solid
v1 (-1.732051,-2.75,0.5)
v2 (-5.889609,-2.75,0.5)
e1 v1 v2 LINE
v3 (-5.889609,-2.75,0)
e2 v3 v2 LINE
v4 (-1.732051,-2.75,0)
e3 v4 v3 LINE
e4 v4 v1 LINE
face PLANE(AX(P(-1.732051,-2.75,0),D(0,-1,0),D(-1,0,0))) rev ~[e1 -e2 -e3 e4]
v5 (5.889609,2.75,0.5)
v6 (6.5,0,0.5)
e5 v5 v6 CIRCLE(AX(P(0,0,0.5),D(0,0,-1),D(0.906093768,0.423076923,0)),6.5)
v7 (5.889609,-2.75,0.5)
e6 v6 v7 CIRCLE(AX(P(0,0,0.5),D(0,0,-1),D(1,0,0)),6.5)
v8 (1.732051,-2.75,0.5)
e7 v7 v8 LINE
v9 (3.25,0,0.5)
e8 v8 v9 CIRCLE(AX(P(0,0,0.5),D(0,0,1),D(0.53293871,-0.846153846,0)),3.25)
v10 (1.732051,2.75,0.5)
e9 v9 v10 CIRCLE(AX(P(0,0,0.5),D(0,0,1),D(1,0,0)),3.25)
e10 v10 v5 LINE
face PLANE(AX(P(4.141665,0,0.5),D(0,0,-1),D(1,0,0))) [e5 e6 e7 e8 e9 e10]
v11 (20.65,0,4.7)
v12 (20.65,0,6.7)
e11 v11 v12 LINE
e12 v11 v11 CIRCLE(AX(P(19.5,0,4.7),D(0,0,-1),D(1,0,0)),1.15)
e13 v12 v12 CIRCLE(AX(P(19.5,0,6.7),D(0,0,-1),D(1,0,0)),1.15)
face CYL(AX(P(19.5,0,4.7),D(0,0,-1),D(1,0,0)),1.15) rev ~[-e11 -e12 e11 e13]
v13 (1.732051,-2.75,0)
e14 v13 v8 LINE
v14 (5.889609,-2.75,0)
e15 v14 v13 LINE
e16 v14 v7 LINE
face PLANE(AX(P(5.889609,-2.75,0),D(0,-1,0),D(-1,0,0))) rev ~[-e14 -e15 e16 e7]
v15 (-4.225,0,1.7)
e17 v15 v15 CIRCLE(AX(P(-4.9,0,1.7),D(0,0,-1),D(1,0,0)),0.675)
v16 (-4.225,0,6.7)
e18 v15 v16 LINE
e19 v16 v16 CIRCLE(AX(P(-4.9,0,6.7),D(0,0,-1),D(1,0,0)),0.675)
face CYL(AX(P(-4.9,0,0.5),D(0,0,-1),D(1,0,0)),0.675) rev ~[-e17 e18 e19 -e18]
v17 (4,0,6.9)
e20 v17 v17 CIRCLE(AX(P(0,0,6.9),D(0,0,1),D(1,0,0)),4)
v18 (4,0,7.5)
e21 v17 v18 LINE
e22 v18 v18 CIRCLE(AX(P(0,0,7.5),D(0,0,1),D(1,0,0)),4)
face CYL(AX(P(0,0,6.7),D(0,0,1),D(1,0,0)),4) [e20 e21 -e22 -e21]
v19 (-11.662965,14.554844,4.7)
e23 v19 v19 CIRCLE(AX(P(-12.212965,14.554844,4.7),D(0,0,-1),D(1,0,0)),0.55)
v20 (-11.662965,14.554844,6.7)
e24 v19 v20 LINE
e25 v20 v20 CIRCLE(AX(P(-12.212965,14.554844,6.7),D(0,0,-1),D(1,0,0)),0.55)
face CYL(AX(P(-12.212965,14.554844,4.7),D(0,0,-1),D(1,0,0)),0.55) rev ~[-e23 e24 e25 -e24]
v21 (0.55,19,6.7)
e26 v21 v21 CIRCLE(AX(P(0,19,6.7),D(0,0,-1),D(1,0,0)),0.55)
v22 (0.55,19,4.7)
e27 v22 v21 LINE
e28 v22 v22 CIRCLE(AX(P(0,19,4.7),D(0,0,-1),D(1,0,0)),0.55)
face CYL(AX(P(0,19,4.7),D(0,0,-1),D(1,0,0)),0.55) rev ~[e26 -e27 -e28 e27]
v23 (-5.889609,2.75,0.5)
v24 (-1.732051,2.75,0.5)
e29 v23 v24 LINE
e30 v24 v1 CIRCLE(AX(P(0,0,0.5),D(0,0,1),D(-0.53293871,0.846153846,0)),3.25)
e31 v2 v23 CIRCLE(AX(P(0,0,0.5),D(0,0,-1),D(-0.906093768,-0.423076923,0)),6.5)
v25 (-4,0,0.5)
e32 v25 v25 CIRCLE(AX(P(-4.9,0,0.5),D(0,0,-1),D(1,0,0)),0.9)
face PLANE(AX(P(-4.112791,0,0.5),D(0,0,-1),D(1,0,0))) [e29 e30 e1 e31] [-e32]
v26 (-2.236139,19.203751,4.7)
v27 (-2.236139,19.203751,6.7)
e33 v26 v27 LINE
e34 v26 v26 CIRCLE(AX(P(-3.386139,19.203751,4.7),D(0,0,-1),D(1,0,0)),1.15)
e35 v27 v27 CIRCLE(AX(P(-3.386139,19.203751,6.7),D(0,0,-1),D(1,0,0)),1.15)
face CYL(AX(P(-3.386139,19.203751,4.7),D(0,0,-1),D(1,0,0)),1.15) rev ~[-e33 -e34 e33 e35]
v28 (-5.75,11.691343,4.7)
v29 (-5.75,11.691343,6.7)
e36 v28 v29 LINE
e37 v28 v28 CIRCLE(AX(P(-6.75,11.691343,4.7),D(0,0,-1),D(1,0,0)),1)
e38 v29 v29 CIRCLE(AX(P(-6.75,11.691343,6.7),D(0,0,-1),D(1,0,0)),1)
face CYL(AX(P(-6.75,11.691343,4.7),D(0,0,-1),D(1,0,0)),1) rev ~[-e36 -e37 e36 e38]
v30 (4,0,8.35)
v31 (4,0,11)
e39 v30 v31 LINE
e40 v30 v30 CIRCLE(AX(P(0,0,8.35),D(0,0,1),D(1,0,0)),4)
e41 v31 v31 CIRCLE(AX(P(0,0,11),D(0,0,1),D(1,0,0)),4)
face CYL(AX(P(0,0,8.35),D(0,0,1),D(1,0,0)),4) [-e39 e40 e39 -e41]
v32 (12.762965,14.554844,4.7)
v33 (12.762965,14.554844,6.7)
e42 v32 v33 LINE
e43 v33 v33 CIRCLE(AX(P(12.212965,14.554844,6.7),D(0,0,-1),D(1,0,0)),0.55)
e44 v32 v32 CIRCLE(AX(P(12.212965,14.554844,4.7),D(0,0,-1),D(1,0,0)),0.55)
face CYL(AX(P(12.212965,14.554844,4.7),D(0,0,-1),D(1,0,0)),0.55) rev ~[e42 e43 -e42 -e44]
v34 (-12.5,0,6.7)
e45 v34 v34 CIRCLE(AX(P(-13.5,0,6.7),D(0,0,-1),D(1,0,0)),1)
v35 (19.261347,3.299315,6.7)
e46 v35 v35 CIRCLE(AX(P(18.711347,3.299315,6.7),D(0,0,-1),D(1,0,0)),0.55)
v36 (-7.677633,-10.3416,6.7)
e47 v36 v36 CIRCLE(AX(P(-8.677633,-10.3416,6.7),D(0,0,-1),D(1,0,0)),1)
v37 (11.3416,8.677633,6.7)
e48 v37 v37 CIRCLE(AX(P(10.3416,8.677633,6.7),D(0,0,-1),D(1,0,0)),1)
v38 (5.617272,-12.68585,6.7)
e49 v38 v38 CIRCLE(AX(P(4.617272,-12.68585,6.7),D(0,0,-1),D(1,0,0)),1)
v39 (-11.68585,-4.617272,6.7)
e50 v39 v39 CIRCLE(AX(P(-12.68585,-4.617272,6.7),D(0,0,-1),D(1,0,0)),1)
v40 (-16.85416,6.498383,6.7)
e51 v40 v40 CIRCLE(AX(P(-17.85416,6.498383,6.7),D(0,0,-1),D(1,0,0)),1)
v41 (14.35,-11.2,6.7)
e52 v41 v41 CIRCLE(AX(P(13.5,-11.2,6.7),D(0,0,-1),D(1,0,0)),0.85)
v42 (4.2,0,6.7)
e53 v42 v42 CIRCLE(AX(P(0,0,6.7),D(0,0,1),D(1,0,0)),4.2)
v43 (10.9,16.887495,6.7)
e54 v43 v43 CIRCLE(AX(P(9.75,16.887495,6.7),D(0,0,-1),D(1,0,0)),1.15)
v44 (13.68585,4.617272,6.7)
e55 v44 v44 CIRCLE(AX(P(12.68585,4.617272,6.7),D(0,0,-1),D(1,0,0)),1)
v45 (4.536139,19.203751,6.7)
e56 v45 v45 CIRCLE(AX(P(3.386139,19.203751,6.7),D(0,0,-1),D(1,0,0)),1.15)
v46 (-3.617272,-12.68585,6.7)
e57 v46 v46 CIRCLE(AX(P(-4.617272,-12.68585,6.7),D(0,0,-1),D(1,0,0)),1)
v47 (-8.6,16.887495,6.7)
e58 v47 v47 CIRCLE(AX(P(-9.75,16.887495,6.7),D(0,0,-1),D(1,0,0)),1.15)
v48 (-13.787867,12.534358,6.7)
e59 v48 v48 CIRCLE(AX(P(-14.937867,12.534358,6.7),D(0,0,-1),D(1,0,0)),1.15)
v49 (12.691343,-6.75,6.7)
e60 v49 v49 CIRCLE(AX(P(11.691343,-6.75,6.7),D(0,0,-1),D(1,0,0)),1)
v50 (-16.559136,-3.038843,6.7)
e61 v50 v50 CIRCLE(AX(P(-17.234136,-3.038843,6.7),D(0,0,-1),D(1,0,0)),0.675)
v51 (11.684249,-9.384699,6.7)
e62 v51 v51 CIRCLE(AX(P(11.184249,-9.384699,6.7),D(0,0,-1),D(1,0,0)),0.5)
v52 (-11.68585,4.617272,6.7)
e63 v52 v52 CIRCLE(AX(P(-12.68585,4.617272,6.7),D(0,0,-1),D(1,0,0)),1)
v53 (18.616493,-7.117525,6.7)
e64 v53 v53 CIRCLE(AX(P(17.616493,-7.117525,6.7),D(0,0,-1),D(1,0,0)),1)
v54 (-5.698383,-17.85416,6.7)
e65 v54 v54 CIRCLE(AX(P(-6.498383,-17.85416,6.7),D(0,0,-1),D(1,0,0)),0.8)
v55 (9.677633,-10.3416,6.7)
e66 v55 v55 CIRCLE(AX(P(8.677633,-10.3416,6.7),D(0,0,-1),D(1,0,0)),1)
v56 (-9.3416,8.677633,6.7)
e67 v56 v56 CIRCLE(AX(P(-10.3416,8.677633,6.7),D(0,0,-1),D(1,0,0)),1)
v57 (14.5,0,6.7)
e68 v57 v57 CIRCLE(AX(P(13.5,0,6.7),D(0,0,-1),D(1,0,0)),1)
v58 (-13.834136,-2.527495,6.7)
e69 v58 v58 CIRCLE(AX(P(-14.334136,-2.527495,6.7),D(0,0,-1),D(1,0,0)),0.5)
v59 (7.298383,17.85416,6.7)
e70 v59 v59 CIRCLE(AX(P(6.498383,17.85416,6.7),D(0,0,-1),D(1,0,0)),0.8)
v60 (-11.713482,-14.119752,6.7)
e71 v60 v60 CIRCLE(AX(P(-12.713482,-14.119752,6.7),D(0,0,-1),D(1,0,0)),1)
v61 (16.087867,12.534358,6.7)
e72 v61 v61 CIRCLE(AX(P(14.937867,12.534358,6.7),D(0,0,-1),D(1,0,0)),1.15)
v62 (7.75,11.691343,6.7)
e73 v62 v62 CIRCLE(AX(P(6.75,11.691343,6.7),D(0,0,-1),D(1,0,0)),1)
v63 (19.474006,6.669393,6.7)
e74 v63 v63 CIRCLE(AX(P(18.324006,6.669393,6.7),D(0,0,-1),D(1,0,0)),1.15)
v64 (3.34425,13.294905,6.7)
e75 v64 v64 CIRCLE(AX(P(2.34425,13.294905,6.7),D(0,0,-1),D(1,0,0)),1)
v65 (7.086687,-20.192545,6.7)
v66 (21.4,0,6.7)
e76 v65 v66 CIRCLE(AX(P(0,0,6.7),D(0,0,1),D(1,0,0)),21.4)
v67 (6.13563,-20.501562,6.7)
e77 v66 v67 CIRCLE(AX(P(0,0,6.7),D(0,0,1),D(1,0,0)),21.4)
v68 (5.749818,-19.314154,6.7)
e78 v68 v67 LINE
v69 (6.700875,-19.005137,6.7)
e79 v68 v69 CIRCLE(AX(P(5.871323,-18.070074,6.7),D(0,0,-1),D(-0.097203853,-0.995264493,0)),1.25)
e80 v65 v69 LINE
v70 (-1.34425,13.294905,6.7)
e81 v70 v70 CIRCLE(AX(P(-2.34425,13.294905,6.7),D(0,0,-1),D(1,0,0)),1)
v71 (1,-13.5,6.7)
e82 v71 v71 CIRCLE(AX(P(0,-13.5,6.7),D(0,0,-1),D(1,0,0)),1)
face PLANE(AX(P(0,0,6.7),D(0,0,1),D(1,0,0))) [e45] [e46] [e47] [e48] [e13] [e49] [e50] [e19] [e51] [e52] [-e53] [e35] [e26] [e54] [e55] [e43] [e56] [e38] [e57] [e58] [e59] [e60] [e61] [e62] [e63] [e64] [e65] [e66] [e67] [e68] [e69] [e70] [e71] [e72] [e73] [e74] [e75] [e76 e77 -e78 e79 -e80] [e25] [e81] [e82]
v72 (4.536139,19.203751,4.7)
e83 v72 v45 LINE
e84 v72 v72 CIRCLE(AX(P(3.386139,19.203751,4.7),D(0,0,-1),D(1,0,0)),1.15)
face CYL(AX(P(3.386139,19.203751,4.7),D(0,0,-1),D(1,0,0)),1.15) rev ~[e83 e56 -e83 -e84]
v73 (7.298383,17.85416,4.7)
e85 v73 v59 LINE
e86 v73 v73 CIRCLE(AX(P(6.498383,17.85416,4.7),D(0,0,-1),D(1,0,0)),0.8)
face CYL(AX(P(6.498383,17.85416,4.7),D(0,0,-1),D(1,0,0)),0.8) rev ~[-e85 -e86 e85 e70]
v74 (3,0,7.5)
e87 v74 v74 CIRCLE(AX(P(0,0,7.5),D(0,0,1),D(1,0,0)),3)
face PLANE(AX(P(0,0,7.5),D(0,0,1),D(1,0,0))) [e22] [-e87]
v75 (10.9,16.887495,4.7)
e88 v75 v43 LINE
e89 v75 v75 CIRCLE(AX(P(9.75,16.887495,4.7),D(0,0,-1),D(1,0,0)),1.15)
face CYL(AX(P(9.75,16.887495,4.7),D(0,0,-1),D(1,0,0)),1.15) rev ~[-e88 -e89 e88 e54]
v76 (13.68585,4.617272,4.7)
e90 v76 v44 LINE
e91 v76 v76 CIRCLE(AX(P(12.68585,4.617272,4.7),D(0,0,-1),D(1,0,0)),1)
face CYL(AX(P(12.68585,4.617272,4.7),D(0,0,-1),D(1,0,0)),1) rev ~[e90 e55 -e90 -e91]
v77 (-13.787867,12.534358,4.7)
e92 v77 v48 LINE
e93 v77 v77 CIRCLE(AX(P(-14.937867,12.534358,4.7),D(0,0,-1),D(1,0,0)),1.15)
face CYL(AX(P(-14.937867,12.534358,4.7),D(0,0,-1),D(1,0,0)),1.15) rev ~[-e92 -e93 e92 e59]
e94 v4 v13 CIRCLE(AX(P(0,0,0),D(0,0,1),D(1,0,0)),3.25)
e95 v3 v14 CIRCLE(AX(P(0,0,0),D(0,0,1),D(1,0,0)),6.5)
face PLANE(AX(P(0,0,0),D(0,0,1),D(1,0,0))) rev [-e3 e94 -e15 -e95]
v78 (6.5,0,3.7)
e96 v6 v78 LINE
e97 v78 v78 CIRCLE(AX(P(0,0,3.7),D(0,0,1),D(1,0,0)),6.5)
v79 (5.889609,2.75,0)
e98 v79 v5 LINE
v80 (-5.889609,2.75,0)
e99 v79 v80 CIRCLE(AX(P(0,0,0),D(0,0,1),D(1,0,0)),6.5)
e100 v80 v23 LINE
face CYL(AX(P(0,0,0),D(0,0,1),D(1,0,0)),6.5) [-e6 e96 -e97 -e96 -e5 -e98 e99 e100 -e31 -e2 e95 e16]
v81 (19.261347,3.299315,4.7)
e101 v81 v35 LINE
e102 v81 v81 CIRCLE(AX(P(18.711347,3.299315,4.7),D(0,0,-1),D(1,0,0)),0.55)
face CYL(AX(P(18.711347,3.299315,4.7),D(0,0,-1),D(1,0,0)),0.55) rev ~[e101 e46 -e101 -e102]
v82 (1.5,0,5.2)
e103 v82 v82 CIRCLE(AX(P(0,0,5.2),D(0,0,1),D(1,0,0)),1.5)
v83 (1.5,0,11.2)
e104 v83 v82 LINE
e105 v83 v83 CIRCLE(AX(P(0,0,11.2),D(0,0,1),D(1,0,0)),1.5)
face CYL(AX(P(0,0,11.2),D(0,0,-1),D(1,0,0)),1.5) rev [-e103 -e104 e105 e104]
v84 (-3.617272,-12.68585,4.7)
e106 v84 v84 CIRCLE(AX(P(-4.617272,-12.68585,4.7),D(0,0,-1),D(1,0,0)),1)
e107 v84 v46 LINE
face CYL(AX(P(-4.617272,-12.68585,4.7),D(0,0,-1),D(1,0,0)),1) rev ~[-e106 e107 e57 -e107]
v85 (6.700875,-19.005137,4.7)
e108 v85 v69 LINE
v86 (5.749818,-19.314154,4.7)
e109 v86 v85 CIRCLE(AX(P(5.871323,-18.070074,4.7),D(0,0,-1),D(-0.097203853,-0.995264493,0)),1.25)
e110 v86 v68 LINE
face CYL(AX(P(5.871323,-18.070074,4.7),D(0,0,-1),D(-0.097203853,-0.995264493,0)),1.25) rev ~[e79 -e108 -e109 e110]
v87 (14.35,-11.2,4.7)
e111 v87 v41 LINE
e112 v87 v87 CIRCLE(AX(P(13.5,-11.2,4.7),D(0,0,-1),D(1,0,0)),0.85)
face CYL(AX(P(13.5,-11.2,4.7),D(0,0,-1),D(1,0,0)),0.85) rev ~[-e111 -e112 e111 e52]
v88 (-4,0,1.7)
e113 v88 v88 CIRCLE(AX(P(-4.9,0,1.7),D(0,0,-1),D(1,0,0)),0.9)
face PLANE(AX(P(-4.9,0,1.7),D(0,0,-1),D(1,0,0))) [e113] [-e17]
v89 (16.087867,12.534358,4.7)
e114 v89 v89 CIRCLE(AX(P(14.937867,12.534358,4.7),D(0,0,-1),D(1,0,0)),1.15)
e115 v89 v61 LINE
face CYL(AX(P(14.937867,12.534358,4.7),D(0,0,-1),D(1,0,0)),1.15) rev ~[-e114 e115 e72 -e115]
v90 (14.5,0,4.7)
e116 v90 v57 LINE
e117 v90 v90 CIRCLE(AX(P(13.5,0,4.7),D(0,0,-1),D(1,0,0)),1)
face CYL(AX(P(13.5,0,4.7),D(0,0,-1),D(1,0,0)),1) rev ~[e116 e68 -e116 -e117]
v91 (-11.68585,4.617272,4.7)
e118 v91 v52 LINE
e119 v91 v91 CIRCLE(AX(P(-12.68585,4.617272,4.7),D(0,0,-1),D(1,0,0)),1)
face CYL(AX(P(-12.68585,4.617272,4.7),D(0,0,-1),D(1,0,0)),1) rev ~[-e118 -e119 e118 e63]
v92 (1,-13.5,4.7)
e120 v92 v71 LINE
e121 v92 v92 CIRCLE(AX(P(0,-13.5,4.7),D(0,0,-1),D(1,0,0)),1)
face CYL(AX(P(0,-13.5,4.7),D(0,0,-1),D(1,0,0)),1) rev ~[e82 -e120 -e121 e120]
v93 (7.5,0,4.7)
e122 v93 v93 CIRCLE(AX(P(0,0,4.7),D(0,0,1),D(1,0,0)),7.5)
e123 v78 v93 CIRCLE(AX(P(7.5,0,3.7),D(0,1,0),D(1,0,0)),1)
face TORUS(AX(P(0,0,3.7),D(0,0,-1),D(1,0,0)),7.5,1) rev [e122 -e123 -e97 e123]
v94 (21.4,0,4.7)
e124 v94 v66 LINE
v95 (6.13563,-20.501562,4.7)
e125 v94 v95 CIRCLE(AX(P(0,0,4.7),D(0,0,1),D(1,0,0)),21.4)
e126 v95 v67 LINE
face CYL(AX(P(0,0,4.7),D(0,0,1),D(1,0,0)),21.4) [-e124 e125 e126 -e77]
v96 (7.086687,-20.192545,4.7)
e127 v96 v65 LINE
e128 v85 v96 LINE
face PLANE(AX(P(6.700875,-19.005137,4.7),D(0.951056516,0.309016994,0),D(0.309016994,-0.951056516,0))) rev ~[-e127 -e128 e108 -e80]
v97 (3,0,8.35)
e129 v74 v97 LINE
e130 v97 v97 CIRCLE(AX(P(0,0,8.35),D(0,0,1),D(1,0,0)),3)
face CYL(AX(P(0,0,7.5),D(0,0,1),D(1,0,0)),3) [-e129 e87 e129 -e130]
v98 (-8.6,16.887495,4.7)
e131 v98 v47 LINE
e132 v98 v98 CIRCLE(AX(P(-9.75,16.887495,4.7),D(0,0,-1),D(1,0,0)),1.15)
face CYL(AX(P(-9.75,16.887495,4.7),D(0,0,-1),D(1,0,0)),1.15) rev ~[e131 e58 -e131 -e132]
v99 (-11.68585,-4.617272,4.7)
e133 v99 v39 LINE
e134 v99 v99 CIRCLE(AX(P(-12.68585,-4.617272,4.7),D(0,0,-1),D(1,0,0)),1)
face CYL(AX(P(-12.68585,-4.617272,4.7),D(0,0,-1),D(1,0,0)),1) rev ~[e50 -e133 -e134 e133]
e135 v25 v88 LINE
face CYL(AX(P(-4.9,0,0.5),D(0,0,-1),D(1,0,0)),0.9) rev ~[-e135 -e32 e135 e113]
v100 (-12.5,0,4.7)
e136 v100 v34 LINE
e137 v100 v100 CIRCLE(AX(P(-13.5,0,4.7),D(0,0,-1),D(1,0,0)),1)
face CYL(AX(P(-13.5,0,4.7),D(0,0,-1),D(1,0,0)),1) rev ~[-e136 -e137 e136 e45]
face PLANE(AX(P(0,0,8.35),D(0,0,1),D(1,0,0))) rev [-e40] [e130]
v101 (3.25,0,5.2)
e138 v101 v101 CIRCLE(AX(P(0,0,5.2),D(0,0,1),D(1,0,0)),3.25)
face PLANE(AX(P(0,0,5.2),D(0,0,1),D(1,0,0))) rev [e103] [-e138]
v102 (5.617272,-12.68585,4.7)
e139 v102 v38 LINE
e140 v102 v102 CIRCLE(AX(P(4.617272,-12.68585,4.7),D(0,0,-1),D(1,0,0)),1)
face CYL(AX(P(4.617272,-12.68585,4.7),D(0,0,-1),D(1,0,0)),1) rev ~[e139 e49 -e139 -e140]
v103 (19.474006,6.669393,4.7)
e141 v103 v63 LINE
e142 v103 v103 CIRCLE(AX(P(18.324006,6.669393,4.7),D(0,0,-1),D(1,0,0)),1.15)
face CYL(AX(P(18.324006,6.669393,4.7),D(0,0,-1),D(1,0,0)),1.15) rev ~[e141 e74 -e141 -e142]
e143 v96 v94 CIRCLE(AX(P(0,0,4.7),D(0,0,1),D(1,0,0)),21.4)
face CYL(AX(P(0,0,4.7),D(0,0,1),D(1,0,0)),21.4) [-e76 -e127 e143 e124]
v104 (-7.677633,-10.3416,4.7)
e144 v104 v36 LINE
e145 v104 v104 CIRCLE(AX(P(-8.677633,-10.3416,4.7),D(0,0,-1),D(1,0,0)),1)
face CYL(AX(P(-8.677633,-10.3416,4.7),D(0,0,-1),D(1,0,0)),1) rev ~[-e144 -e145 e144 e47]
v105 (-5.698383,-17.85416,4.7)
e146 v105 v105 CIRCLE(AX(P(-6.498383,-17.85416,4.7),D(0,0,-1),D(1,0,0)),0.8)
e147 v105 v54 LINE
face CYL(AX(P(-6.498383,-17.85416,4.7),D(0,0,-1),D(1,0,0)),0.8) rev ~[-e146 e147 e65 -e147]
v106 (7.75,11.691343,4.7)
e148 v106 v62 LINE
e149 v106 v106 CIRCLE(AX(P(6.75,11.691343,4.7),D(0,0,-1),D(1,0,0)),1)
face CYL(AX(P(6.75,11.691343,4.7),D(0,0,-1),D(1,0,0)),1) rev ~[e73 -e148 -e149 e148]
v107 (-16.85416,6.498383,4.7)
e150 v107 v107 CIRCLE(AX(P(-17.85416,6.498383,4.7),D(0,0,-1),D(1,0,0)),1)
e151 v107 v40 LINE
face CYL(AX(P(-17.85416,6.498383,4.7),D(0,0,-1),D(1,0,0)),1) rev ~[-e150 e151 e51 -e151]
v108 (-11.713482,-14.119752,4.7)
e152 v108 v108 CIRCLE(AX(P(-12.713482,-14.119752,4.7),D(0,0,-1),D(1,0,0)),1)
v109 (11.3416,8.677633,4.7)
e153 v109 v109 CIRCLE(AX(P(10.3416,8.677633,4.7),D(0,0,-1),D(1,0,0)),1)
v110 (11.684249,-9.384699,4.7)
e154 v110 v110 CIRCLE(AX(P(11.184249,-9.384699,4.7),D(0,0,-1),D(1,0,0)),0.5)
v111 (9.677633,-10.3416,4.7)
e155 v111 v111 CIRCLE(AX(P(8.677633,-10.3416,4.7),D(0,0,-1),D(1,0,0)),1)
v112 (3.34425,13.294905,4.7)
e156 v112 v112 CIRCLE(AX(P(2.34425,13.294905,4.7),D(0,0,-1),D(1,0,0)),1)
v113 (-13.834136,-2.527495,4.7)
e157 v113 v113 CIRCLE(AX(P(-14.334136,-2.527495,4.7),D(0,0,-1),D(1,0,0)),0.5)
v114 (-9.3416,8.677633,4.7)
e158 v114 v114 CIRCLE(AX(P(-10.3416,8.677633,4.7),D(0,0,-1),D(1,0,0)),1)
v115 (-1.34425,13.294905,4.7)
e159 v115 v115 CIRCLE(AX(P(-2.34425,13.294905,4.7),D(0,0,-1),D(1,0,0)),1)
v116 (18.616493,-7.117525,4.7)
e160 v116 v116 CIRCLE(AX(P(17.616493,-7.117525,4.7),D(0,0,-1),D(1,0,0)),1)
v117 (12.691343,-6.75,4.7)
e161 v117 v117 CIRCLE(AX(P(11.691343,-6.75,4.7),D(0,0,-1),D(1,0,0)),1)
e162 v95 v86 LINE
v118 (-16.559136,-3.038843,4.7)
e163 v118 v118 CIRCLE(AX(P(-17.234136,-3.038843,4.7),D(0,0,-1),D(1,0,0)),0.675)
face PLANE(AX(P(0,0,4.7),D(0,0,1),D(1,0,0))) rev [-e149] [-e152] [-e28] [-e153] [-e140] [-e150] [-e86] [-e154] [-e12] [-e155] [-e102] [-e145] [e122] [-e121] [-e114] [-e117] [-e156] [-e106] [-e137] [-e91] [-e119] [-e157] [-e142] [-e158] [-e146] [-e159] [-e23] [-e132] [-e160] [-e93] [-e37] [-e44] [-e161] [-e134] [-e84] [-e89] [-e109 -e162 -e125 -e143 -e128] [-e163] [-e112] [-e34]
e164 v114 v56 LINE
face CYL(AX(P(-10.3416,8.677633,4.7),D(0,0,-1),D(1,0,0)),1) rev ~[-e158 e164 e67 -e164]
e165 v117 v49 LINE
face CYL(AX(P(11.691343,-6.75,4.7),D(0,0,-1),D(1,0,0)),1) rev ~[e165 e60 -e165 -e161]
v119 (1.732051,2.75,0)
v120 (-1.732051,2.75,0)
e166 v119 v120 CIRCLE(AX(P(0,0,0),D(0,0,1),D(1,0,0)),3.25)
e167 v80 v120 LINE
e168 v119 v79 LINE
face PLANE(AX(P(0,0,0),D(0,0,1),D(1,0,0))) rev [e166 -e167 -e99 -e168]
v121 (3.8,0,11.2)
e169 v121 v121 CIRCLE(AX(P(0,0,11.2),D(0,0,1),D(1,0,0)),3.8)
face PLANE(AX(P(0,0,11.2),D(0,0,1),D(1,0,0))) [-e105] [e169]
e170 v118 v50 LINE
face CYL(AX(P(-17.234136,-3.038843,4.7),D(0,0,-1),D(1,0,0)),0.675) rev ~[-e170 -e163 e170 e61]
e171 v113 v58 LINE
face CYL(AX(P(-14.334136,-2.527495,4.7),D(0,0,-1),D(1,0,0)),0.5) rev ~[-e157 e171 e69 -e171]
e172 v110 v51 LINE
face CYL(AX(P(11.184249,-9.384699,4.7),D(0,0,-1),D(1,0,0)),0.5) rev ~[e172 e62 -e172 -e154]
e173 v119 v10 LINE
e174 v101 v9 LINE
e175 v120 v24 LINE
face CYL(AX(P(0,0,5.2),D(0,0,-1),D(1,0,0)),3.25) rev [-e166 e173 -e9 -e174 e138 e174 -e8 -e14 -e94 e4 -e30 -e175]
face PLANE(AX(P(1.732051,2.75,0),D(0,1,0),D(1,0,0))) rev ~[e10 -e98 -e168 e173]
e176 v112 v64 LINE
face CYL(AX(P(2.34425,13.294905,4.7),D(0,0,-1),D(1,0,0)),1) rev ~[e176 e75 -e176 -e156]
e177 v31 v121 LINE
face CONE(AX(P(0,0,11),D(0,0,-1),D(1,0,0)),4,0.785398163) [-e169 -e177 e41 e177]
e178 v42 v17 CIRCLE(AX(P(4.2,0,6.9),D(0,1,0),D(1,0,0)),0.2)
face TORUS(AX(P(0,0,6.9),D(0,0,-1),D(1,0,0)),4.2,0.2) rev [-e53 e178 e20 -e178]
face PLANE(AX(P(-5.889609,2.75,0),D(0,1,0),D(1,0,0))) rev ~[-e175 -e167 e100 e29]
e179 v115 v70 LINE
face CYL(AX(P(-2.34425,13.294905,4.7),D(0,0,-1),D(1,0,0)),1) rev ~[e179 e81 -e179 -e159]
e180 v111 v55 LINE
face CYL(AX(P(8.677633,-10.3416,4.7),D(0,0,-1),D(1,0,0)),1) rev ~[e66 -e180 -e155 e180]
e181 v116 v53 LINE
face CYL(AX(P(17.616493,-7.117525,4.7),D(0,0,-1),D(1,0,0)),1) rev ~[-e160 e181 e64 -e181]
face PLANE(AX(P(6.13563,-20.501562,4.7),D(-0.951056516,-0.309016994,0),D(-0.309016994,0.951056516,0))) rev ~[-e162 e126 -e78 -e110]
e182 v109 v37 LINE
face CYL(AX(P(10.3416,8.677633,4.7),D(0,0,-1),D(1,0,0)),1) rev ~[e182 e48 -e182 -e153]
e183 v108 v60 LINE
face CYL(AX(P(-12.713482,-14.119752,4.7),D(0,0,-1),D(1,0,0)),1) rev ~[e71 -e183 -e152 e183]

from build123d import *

# Parameters (mm, degrees)
F2_R      = 1.15
F2_R_2    = 1
F2_R_3    = 0.55
F2_R_4    = 0.8
F2_R_5    = 0.85
F2_R_6    = 0.5
F2_R_7    = 0.675
F3_DEPTH  = 6.501
F4_R      = 1
F5_R      = 0.2
F6_SIZE   = 0.2
F8_DEPTH  = 0.5
F9_R      = 0.675
F10_DEPTH = 10.701
F11_R     = 0.9
F11_R_2   = 0.675
F12_DEPTH = 1.2


with BuildPart() as f1:
    # F0 (on Front) → F1 (revolve)
    with BuildSketch(Plane.XZ):
        Polygon((3.25, 5.2), (3.25, 0), (6.5, 0), (6.5, 4.7), (21.4, 4.7), (21.4, 6.7), (4, 6.7), (4, 7.5), (3, 7.5), (3, 8.35), (4, 8.35), (4, 11.2), (1.5, 11.2), (1.5, 5.2), align=None)
    revolve(axis=Axis((0, 0, 5.6), (0, 0, 1)))

    # F2 (on face) → F3 (cut, through all)
    with BuildSketch(Plane(origin=(0, 0, 4.7), x_dir=(1, 0, 0), z_dir=(0, 0, -1))):
        with Locations((19.5, 0)):
            Circle(F2_R)
        with Locations((18.3240061053, -6.6693927949)):
            Circle(F2_R)
        with Locations((14.9378666408, -12.5343583889)):
            Circle(F2_R)
        with Locations((9.75, -16.8874953738)):
            Circle(F2_R)
        with Locations((3.3861394645, -19.2037511837)):
            Circle(F2_R)
        with Locations((-3.3861394645, -19.2037511837)):
            Circle(F2_R)
        with Locations((-9.75, -16.8874953738)):
            Circle(F2_R)
        with Locations((-14.9378666408, -12.5343583889)):
            Circle(F2_R)
        with Locations((-17.8541597949, -6.4983827232)):
            Circle(F2_R_2)
        with Locations((11.6913429511, 6.75)):
            Circle(F2_R_2)
        with Locations((8.6776327308, 10.3415999821)):
            Circle(F2_R_2)
        with Locations((12.6858503806, -4.6172719349)):
            Circle(F2_R_2)
        with Locations((13.5, 0)):
            Circle(F2_R_2)
        with Locations((10.3415999821, -8.6776327308)):
            Circle(F2_R_2)
        with Locations((6.75, -11.6913429511)):
            Circle(F2_R_2)
        with Locations((2.3442503985, -13.2949046657)):
            Circle(F2_R_2)
        with Locations((-2.3442503985, -13.2949046657)):
            Circle(F2_R_2)
        with Locations((-6.75, -11.6913429511)):
            Circle(F2_R_2)
        with Locations((-10.3415999821, -8.6776327308)):
            Circle(F2_R_2)
        with Locations((-12.6858503806, -4.6172719349)):
            Circle(F2_R_2)
        with Locations((-13.5, 0)):
            Circle(F2_R_2)
        with Locations((-12.6858503806, 4.6172719349)):
            Circle(F2_R_2)
        with Locations((-8.6776327308, 10.3415999821)):
            Circle(F2_R_2)
        with Locations((-4.6172719349, 12.6858503806)):
            Circle(F2_R_2)
        with Locations((0, 13.5)):
            Circle(F2_R_2)
        with Locations((4.6172719349, 12.6858503806)):
            Circle(F2_R_2)
        with Locations((18.7113473072, -3.2993153757)):
            Circle(F2_R_3)
        with Locations((12.212964584, -14.5548444193)):
            Circle(F2_R_3)
        with Locations((0, -19)):
            Circle(F2_R_3)
        with Locations((-12.212964584, -14.5548444193)):
            Circle(F2_R_3)
        with Locations((6.4983827232, -17.8541597949)):
            Circle(F2_R_4)
        with Locations((17.6164932368, 7.1175252749)):
            Circle(F2_R_2)
        with Locations((13.5, 11.2)):
            Circle(F2_R_5)
        with Locations((11.1842488695, 9.3846991014)):
            Circle(F2_R_6)
        with Locations((-6.4983827232, 17.8541597949)):
            Circle(F2_R_4)
        with Locations((-12.7134815208, 14.1197516841)):
            Circle(F2_R_2)
        with Locations((-17.2341356777, 3.0388431092)):
            Circle(F2_R_7)
        with Locations((-14.3341356777, 2.5274948651)):
            Circle(F2_R_6)
        with BuildLine():
            Line((6.1356301693, 20.5015619509), (5.7498180769, 19.3141544258))
            ThreePointArc((5.7498180769, 19.3141544258), (5.4850516502, 16.8812531642), (6.7008745932, 19.0051374314))
            Line((6.7008745932, 19.0051374314), (7.0866866856, 20.1925449565))
            ThreePointArc((7.0866866856, 20.1925449565), (6.6129636796, 20.3526094487), (6.1356301693, 20.5015619509))
        make_face()
    extrude(amount=-F3_DEPTH, mode=Mode.SUBTRACT)

    # F4
    f4_edges = [f1.edges().sort_by_distance(p)[0] for p in [
        (-6.5, 0, 4.7),
    ]]
    fillet(f4_edges, radius=F4_R)

    # F5
    f5_edges = [f1.edges().sort_by_distance(p)[0] for p in [
        (-4, 0, 6.7),
    ]]
    fillet(f5_edges, radius=F5_R)

    # F6
    f6_edges = [f1.edges().sort_by_distance(p)[0] for p in [
        (-4, 0, 11.2),
    ]]
    chamfer(f6_edges, length=F6_SIZE)

    # F7 (on face) → F8 (cut)
    with BuildSketch(Plane(origin=(0, 0, 0), x_dir=(1, 0, 0), z_dir=(0, 0, -1))):
        with BuildLine():
            ThreePointArc((-5.8896094947, 2.75), (-6.5, 0), (-5.8896094947, -2.75))
            Line((-5.8896094947, -2.75), (-1.7320508076, -2.75))
            ThreePointArc((-1.7320508076, -2.75), (-3.25, 0), (-1.7320508076, 2.75))
            Line((-1.7320508076, 2.75), (-5.8896094947, 2.75))
        make_face()
        with BuildLine():
            Line((1.7320508076, -2.75), (5.8896094947, -2.75))
            ThreePointArc((5.8896094947, -2.75), (6.3455678121, -1.4084633976), (6.5, 0))
            ThreePointArc((6.5, 0), (6.3455678121, 1.4084633976), (5.8896094947, 2.75))
            Line((5.8896094947, 2.75), (1.7320508076, 2.75))
            ThreePointArc((1.7320508076, 2.75), (2.8453176558, 1.5705627774), (3.25, 0))
            ThreePointArc((3.25, 0), (2.8453176558, -1.5705627774), (1.7320508076, -2.75))
        make_face()
    extrude(amount=-F8_DEPTH, mode=Mode.SUBTRACT)

    # F9 (on face) → F10 (cut, through all)
    with BuildSketch(Plane(origin=(0, 0, 0.5), x_dir=(1, 0, 0), z_dir=(0, 0, -1))):
        with Locations((-4.9, 0)):
            Circle(F9_R)
    extrude(amount=-F10_DEPTH, mode=Mode.SUBTRACT)

    # F11 (on face) → F12 (cut)
    with BuildSketch(Plane(origin=(0, 0, 0.5), x_dir=(1, 0, 0), z_dir=(0, 0, -1))):
        with Locations((-4.9, 0)):
            Circle(F11_R)
        with Locations((-4.9, 0)):
            Circle(F11_R_2, mode=Mode.SUBTRACT)
        with Locations((-4.9, 0)):
            Circle(F11_R_2)
    extrude(amount=-F12_DEPTH, mode=Mode.SUBTRACT)


solid = f1.part
